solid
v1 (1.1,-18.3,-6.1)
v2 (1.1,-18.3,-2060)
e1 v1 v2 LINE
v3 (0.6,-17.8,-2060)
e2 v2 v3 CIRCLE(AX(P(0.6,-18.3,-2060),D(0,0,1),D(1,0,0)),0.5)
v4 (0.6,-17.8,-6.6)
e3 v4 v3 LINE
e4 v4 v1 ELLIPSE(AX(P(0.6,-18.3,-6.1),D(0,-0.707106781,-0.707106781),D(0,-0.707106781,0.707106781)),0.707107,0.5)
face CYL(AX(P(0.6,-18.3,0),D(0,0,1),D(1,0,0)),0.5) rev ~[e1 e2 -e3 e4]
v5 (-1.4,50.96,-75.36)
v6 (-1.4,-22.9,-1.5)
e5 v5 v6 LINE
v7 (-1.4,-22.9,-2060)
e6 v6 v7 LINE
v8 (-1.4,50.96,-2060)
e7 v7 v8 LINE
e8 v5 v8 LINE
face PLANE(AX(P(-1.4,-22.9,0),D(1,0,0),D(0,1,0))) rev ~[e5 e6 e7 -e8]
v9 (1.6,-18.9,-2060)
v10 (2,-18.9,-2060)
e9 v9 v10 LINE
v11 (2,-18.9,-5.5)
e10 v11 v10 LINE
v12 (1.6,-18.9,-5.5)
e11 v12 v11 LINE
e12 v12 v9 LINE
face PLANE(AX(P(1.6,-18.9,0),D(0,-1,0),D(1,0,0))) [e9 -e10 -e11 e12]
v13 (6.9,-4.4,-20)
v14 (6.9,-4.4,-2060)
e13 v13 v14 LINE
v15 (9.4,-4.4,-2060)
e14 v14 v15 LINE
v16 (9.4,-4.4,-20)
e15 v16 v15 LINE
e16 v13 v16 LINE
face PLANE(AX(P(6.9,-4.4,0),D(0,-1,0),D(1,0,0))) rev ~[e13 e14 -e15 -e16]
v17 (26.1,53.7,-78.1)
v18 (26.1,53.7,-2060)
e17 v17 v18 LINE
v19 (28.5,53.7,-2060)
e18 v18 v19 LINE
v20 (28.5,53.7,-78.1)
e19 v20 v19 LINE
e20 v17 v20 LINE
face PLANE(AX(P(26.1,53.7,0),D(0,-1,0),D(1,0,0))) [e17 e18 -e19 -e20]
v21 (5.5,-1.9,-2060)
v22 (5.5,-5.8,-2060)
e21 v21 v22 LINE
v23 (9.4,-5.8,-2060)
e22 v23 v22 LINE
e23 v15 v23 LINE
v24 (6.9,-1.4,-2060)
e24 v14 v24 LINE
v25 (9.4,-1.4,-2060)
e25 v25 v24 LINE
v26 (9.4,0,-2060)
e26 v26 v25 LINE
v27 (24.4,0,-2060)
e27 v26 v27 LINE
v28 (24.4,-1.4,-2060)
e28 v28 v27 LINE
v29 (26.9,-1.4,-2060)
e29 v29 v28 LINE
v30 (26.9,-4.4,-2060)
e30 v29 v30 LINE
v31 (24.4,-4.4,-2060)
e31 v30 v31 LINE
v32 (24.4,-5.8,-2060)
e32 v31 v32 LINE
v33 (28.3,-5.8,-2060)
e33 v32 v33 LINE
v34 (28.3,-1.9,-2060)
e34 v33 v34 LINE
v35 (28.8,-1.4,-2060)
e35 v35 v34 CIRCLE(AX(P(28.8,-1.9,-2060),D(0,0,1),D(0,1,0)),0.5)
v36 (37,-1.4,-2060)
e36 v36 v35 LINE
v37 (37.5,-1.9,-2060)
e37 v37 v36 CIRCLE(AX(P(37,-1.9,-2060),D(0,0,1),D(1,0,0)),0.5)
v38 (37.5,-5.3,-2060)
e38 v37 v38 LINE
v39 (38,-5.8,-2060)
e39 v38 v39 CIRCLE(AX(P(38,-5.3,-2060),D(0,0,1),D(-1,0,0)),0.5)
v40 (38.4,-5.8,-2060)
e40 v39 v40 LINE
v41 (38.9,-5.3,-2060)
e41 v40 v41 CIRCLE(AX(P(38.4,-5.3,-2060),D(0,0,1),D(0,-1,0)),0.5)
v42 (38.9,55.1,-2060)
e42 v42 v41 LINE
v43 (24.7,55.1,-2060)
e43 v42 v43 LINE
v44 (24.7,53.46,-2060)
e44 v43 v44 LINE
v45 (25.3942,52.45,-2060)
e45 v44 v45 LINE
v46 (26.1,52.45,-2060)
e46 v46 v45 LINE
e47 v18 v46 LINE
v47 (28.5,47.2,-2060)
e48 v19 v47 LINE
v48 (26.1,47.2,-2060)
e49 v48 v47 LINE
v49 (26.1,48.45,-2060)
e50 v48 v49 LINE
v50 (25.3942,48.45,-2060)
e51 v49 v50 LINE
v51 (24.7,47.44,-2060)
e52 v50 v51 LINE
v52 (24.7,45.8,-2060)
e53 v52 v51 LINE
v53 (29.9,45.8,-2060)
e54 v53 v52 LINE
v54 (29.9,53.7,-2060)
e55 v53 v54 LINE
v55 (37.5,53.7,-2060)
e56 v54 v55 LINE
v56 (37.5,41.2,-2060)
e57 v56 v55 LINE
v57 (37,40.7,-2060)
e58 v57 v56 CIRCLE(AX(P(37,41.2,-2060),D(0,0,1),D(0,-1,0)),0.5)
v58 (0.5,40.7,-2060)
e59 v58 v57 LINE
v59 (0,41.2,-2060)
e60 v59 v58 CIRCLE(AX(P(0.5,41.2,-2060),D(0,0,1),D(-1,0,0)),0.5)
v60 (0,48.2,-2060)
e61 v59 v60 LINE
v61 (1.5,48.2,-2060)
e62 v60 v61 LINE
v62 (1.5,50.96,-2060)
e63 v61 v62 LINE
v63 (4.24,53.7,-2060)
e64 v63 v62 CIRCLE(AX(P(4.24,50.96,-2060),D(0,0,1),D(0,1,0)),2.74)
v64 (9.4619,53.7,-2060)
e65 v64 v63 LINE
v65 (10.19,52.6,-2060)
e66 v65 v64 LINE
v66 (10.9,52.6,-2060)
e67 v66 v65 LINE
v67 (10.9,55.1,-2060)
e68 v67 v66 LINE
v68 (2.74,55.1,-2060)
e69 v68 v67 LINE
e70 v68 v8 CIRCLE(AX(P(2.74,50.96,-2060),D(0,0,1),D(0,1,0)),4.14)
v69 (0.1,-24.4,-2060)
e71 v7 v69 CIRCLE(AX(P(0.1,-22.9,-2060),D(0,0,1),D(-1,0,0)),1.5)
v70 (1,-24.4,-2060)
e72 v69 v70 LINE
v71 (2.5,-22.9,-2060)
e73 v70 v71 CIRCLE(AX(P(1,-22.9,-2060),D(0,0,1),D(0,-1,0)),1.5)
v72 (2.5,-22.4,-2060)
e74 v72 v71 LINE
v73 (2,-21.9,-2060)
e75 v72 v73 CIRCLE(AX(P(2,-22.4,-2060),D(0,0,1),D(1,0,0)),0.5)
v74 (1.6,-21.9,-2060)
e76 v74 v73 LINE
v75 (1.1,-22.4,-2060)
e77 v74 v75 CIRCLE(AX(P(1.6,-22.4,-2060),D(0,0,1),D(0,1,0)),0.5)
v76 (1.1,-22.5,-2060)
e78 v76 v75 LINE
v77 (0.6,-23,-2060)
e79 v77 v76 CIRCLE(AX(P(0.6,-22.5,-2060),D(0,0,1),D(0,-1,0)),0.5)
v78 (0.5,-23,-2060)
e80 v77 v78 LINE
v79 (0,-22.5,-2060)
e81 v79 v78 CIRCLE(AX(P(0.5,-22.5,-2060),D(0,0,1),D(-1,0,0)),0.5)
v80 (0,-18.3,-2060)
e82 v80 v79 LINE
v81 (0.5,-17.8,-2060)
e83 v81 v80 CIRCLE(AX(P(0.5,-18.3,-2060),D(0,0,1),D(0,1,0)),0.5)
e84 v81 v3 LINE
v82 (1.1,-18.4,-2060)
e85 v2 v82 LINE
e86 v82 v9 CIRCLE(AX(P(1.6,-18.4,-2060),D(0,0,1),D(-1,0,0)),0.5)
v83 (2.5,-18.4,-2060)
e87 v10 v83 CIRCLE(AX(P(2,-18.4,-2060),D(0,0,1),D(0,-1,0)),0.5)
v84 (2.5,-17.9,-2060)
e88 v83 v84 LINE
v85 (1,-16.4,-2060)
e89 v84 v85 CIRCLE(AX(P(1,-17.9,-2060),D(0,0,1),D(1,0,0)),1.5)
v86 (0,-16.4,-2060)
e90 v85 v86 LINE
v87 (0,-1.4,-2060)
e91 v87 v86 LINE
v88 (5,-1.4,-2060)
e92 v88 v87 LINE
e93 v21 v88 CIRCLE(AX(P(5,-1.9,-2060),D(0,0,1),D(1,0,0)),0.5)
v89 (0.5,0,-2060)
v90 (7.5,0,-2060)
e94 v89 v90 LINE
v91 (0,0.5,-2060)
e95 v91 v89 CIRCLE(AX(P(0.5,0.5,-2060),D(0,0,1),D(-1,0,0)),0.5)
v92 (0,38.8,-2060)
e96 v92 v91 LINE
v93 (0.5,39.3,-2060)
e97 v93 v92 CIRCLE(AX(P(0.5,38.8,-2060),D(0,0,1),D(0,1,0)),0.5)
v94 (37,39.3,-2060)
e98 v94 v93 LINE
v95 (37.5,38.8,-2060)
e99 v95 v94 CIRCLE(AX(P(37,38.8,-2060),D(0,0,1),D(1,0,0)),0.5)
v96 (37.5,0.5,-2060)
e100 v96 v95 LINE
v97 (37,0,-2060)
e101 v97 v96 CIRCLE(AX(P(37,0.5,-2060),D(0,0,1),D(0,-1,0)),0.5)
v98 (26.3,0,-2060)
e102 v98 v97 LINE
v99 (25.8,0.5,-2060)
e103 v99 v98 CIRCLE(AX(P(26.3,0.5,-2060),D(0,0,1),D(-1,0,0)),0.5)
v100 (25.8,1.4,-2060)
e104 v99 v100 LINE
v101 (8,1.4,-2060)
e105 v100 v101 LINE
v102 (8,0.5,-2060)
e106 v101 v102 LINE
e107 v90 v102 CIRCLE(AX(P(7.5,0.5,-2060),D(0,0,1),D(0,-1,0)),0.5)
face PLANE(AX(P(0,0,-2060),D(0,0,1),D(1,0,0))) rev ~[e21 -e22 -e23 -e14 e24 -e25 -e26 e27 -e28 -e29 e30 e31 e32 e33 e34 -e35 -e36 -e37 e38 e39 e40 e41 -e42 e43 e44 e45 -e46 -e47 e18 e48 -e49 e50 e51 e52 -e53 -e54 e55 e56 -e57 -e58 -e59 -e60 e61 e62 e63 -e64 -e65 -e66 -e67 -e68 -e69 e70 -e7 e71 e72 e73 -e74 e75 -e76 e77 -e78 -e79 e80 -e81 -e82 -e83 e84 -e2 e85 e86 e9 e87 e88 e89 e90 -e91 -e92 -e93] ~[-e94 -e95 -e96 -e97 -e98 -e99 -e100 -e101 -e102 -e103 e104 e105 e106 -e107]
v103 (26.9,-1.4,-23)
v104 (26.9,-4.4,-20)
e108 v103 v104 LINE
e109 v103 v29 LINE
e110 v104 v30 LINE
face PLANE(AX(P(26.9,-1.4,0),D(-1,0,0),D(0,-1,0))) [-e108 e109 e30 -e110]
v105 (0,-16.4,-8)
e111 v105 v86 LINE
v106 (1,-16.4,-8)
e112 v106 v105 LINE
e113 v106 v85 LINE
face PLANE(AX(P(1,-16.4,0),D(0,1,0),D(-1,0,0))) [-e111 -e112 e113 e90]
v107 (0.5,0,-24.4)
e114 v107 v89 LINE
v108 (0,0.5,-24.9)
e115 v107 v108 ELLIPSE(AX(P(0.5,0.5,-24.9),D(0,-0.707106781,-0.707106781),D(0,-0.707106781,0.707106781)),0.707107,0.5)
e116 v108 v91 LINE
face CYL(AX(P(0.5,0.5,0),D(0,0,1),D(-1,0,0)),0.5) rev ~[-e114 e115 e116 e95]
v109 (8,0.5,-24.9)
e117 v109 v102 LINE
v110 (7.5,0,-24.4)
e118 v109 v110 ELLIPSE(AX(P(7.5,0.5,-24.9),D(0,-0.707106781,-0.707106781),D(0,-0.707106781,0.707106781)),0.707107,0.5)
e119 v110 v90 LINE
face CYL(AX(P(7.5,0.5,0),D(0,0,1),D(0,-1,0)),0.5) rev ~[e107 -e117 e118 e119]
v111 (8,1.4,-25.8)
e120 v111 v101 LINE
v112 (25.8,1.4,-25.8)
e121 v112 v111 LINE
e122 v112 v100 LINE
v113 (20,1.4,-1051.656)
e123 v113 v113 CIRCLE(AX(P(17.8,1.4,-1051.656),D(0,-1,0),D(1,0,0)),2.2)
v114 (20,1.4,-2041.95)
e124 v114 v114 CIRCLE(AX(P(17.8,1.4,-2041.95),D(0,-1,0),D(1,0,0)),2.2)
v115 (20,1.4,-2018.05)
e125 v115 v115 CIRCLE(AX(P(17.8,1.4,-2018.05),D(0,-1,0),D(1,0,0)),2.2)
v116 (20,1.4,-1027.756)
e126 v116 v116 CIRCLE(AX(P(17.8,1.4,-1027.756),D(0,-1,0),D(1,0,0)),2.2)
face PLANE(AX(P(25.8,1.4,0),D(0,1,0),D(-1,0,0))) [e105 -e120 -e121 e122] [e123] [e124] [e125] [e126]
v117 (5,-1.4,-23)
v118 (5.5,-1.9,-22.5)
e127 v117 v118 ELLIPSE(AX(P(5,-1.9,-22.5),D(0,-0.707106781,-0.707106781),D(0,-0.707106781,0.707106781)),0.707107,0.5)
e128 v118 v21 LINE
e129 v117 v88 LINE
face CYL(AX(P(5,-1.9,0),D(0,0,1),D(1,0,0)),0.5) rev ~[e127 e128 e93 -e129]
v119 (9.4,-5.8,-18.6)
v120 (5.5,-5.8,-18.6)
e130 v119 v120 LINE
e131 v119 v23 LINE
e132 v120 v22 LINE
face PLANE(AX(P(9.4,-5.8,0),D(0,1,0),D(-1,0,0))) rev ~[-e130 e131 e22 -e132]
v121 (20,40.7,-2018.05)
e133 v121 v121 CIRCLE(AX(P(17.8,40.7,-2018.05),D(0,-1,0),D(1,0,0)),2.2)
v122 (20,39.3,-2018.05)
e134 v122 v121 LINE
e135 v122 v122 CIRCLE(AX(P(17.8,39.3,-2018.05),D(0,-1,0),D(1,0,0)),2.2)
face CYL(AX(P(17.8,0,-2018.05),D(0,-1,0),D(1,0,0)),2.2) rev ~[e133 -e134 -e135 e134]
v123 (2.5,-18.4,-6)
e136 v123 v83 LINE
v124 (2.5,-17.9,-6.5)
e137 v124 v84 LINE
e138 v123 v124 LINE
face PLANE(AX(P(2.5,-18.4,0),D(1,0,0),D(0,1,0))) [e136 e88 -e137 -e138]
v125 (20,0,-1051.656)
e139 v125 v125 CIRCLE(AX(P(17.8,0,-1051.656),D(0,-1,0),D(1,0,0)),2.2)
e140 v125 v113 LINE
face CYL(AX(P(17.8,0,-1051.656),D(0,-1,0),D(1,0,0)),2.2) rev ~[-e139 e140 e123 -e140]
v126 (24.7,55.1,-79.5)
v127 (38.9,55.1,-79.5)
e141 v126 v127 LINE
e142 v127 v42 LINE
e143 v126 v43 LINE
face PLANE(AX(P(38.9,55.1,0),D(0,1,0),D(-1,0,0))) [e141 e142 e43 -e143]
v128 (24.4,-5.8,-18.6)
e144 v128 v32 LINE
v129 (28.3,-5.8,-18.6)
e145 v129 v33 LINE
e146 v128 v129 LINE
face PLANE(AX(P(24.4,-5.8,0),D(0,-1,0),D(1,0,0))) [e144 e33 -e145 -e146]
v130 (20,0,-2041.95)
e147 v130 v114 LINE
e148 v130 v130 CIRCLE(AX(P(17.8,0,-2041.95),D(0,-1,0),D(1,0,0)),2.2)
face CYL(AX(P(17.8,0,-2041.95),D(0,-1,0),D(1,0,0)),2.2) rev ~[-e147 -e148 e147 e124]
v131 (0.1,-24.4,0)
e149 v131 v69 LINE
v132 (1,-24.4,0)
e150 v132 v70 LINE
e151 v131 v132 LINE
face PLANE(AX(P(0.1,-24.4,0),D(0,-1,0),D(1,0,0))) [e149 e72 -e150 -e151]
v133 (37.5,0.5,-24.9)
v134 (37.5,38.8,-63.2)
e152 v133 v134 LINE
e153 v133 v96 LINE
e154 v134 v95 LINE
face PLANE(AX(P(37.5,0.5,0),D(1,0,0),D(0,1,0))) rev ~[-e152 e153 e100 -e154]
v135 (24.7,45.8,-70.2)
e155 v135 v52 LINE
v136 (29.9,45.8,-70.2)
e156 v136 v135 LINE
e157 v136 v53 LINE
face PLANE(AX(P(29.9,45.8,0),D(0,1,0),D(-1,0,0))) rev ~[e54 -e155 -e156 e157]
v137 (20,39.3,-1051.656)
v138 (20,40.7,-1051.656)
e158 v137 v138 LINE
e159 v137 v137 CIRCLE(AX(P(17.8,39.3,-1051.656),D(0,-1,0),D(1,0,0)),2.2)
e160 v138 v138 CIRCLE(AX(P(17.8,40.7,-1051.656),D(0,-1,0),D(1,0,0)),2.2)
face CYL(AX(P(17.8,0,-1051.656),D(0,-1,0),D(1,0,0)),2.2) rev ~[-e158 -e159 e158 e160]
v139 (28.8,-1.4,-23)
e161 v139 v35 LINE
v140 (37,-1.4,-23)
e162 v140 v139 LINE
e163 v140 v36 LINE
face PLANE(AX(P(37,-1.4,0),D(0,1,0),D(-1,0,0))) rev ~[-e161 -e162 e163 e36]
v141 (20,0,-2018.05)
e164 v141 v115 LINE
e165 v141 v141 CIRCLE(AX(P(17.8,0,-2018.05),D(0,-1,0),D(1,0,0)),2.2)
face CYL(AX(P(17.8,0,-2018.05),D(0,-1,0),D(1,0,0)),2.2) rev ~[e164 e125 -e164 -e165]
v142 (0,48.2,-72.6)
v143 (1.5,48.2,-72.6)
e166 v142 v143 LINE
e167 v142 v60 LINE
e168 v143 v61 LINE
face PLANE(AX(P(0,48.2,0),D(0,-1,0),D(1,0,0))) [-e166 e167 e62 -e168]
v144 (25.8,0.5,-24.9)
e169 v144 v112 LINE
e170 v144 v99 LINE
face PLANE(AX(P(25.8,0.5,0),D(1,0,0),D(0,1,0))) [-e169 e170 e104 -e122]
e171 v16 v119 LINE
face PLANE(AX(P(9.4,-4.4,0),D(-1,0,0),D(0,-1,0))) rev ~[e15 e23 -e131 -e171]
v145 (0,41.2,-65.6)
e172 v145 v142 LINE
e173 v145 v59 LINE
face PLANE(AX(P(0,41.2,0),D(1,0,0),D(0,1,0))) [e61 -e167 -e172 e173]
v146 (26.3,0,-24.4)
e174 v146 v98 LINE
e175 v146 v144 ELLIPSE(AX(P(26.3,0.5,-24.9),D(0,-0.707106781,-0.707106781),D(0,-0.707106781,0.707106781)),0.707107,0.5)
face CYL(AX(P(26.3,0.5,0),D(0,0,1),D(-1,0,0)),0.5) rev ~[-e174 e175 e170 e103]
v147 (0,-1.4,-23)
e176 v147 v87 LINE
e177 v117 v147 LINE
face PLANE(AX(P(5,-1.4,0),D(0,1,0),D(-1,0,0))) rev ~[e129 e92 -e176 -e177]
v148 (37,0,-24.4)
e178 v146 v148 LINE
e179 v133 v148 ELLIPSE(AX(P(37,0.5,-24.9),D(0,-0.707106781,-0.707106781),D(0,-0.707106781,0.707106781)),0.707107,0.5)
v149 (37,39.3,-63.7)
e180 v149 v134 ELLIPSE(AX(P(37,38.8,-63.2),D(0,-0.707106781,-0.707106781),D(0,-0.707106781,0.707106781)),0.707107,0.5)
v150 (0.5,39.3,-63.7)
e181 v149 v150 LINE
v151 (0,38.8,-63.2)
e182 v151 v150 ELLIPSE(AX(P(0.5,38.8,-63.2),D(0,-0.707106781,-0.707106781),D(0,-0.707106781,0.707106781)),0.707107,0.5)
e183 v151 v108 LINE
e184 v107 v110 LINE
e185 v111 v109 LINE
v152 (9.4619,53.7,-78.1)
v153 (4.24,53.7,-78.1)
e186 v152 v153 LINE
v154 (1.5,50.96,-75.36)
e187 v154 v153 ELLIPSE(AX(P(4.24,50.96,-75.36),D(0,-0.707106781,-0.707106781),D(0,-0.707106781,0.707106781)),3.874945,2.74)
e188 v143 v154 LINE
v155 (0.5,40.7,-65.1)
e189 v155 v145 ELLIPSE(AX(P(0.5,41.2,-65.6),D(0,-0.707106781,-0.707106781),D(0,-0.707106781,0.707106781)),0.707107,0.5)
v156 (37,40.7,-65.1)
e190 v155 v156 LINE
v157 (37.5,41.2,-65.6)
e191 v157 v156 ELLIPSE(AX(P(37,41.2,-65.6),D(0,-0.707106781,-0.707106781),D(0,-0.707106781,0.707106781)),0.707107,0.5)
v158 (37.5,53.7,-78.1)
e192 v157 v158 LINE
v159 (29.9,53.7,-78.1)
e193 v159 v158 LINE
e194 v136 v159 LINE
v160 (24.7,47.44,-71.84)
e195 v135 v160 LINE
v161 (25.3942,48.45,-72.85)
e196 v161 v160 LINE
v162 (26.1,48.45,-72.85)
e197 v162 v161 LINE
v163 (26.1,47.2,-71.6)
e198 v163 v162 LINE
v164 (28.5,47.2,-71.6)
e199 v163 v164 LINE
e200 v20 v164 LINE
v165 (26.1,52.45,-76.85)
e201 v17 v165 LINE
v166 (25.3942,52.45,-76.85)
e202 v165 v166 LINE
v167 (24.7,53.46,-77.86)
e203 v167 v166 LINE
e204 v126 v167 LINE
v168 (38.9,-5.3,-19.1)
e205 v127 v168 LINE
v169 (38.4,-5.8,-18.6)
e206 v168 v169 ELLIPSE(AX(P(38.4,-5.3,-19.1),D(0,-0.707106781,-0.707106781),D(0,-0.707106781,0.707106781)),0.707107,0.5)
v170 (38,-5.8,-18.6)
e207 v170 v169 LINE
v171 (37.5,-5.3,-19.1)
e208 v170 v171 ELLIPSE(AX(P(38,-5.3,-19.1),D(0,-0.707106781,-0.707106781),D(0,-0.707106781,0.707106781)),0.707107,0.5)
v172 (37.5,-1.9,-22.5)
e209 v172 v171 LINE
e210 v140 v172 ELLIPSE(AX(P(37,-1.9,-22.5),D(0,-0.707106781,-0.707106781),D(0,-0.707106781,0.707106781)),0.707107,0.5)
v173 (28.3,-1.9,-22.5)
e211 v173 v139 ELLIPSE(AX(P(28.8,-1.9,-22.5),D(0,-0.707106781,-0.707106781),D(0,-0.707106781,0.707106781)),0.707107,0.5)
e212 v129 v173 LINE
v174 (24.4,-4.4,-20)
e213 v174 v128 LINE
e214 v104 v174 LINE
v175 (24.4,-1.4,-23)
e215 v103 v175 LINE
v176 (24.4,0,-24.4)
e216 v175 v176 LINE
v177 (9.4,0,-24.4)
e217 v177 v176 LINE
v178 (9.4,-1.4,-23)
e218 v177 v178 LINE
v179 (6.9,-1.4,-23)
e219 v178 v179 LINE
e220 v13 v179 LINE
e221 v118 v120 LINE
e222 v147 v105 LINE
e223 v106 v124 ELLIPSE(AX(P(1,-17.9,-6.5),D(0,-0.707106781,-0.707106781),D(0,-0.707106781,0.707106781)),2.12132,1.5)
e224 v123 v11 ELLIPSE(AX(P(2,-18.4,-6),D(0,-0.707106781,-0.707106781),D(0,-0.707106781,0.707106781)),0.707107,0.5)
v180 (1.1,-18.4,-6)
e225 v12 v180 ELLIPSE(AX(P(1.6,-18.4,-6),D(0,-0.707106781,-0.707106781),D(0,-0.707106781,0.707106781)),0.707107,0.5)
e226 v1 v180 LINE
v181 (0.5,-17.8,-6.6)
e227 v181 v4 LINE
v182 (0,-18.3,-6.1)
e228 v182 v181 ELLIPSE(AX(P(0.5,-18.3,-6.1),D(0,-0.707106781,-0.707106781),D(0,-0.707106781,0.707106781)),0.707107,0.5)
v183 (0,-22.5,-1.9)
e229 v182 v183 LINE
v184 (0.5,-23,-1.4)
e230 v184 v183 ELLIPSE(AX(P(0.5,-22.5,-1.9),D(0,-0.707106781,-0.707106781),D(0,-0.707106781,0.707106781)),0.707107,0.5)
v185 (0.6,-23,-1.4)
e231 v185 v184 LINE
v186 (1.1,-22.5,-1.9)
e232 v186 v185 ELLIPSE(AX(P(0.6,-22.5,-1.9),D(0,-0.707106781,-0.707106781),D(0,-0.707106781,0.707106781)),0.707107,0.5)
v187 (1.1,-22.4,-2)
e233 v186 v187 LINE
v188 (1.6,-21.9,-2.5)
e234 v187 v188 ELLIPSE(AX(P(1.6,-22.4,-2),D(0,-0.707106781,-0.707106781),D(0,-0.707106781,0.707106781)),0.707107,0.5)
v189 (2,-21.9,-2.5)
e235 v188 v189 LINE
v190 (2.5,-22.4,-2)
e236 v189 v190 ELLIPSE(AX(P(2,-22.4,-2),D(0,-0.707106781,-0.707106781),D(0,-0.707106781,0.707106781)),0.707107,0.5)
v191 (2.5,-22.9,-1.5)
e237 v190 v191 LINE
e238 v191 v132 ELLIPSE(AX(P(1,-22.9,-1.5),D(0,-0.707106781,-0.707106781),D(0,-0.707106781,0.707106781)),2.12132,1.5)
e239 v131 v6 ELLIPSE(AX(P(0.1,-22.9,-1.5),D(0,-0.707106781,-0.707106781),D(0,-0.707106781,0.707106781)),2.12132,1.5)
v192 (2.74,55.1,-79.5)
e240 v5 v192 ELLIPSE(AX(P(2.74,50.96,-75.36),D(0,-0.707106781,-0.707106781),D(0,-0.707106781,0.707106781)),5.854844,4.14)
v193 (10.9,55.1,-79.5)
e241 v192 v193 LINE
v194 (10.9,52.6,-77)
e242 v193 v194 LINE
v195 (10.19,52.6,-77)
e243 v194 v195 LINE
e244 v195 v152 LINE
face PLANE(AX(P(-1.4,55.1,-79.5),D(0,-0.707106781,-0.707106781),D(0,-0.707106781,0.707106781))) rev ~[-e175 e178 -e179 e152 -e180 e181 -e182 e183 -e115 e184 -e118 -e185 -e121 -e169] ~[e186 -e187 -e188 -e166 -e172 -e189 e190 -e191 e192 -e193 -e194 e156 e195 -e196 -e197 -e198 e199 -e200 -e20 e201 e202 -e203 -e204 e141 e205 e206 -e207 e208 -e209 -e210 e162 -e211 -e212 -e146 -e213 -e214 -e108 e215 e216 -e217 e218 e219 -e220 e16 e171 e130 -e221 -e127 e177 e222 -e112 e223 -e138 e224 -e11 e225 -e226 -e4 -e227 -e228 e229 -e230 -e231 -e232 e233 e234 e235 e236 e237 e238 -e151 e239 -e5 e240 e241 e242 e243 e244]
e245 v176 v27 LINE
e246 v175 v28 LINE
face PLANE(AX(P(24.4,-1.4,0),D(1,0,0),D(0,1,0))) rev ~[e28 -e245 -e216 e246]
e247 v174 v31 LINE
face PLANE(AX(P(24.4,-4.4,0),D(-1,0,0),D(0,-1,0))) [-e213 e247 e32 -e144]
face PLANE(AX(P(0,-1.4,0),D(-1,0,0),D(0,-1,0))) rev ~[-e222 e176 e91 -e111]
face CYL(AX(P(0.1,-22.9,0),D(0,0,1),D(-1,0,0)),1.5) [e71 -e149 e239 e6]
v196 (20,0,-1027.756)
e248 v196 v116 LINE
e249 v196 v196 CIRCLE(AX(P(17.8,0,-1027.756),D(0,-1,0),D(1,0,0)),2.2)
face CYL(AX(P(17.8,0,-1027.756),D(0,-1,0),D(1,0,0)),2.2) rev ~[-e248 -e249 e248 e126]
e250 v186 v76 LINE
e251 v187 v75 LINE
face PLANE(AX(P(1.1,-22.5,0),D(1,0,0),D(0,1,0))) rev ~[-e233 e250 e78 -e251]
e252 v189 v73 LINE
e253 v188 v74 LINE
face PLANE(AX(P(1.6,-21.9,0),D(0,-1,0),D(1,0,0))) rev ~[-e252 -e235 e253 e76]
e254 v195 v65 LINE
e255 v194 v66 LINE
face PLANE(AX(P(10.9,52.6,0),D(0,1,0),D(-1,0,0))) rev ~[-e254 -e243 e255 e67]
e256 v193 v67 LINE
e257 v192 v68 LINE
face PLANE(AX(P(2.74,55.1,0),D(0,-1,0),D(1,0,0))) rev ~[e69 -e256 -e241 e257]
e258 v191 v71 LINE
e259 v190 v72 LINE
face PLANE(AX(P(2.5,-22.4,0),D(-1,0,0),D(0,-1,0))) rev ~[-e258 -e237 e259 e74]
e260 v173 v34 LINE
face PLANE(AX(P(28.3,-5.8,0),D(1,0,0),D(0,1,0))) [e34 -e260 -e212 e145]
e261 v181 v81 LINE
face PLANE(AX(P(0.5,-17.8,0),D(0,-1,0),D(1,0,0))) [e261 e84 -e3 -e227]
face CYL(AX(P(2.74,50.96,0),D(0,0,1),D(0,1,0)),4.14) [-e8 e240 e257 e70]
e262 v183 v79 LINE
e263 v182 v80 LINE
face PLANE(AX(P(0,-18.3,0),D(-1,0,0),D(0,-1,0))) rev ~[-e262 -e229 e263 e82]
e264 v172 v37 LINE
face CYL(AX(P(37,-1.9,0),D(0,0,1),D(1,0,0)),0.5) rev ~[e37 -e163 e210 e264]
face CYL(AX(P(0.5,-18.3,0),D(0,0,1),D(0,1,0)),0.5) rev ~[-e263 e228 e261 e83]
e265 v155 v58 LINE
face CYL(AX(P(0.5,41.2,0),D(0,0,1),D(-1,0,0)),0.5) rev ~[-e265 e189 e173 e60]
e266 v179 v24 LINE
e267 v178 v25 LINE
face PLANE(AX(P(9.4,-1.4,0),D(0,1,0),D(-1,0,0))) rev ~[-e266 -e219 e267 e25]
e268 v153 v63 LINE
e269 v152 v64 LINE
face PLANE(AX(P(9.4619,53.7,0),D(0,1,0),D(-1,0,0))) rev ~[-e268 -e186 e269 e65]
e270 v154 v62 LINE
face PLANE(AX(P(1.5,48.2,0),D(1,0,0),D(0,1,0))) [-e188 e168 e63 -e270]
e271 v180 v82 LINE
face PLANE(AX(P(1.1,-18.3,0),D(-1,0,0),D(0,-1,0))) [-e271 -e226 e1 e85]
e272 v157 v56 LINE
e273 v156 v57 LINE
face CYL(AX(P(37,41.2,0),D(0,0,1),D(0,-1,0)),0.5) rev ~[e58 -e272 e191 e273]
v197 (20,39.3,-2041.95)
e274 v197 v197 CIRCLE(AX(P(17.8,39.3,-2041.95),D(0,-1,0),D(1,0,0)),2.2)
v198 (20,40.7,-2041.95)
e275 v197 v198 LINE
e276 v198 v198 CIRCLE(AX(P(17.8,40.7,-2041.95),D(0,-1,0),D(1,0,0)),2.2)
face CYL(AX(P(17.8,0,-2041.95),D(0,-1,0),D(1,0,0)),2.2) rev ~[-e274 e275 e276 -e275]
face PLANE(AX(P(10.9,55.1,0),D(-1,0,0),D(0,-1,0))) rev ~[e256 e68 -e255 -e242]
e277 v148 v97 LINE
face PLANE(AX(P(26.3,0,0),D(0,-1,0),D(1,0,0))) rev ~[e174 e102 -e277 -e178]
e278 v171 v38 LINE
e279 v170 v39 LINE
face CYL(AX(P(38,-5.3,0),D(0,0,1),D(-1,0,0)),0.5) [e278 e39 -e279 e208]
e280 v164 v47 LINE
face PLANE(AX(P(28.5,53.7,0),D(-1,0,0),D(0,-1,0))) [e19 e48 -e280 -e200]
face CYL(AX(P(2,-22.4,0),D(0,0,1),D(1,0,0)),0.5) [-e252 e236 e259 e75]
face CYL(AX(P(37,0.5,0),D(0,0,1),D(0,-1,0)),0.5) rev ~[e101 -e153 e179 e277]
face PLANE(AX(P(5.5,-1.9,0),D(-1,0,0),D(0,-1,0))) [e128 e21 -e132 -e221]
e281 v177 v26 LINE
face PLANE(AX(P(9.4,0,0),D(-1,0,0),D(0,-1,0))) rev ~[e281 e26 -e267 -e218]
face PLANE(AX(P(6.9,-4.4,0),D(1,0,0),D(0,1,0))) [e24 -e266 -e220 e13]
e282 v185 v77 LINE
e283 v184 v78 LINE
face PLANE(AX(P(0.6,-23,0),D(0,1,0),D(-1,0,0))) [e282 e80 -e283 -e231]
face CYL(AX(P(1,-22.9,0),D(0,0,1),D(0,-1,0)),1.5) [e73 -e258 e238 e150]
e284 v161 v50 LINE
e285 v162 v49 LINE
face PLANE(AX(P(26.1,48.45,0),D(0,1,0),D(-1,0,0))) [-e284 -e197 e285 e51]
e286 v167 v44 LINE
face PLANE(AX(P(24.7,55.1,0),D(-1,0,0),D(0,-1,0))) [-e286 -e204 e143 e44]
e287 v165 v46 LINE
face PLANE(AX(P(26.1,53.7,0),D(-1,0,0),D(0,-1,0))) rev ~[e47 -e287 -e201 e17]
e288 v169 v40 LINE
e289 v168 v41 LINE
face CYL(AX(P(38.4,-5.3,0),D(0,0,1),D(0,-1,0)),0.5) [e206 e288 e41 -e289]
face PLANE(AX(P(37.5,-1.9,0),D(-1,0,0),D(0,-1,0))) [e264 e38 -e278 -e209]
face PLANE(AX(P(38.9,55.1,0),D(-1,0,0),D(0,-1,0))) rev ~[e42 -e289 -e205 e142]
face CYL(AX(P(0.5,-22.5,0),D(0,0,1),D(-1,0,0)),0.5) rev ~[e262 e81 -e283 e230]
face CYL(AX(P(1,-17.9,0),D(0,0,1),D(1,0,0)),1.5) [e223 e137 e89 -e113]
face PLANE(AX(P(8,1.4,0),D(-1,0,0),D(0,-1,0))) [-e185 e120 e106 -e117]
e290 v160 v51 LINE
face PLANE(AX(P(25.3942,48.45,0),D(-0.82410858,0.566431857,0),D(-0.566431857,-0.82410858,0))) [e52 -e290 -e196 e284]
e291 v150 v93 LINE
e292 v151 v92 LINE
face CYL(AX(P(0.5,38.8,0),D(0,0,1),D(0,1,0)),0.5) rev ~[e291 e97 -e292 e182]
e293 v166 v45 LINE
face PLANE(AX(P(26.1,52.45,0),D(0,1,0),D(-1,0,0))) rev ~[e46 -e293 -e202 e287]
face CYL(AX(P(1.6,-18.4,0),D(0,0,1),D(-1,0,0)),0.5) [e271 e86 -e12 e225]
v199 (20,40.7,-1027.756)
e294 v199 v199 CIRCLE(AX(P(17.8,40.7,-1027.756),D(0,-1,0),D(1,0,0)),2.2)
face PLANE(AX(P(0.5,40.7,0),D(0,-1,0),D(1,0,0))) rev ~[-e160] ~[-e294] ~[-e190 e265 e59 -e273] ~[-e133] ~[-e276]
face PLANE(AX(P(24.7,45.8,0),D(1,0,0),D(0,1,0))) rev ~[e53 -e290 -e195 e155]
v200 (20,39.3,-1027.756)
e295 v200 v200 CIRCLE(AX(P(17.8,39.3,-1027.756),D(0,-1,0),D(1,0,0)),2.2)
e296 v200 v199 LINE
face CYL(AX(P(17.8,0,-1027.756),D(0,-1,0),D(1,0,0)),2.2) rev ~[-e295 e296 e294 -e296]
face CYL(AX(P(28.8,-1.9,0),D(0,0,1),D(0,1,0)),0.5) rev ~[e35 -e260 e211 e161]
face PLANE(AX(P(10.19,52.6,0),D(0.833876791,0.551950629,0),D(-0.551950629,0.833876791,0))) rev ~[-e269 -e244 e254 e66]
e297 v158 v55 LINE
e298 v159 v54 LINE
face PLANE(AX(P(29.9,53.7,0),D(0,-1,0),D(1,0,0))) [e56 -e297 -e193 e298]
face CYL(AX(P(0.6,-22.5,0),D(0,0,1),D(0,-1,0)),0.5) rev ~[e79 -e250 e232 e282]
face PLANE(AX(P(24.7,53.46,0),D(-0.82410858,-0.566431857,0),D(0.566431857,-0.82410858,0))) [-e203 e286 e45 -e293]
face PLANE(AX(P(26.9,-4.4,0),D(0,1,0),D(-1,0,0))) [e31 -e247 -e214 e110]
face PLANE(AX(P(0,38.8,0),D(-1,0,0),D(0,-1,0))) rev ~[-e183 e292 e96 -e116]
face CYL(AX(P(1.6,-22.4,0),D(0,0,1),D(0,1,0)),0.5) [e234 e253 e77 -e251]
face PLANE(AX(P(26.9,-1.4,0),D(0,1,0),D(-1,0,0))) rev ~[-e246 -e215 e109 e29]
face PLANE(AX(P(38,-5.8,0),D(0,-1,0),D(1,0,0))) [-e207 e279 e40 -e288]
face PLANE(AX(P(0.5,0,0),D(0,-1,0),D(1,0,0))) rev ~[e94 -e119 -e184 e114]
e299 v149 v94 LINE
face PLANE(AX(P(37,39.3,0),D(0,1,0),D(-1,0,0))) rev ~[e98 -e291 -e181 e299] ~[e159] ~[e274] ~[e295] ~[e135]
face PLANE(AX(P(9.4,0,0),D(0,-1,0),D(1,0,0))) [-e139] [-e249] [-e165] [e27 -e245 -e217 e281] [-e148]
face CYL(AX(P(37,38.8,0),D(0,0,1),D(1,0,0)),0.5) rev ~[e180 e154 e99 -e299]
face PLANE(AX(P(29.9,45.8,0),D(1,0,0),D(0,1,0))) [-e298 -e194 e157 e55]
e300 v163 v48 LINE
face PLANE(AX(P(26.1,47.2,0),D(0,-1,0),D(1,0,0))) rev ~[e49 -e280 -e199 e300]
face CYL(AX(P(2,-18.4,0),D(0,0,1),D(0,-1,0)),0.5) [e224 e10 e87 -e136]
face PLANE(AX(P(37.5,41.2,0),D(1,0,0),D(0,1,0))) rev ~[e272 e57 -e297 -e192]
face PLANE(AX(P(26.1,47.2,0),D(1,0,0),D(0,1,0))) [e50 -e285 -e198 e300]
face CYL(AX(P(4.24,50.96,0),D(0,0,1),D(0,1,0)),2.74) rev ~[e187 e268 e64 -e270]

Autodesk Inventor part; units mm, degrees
ref_plane "YZ Plane" through (0, 0, 0) normal (1, 0, 0) x (0, 1, 0)
ref_plane "XZ Plane" through (0, 0, 0) normal (0, 1, 0) x (-1, 0, 0)
sketch "Boceto1" plane through (0, 0, 0) normal (0, 0, 1) x (1, 0, 0)
  line L0 (37.5, 0.5) -> (37.5, 38.8)
  line L1 (37, 39.3) -> (0.5, 39.3)
  line L2 (0, 38.8) -> (0, 0.5)
  line L3 (0.5, 40.7) -> (37, 40.7)
  line L4 (38.9, 55.1) -> (38.9, -5.3)
  line L5 (-1.4, -22.9) -> (-1.4, 50.96)
  line L6 (37.5, 41.2) -> (37.5, 53.7)
  line L7 (38.9, 55.1) -> (24.7, 55.1)
  line L8 (24.7, 55.1) -> (24.7, 53.46)
  line L9 (28.5, 53.7) -> (28.5, 47.2)
  line L10 (29.9, 45.8) -> (29.9, 53.7)
  line L11 (29.9, 45.8) -> (24.7, 45.8)
  line L12 (24.7, 45.8) -> (24.7, 47.44)
  line L13 (26.1, 47.2) -> (28.5, 47.2)
  line L14 (26.1, 48.45) -> (25.3942, 48.45)
  line L15 (25.3942, 48.45) -> (24.7, 47.44)
  line L16 (26.1, 52.45) -> (25.3942, 52.45)
  line L17 (0, 41.2) -> (0, 48.2)
  line L18 (0, 48.2) -> (1.5, 48.2)
  line L19 (1.5, 48.2) -> (1.5, 50.96)
  line L20 (2.74, 55.1) -> (10.9, 55.1)
  line L21 (9.4619, 53.7) -> (4.24, 53.7)
  line L22 (10.9, 55.1) -> (10.9, 52.6)
  line L23 (10.9, 52.6) -> (10.19, 52.6)
  line L24 (10.19, 52.6) -> (9.4619, 53.7)
  line L25 (0, -24.4) -> (0.1, -24.4)
  line L26 (37.5, -1.9) -> (37.5, -5.3)
  line L27 (38, -5.8) -> (38.4, -5.8)
  line L28 (26.9, -1.4) -> (26.9, -4.4)
  line L29 (28.3, -5.8) -> (28.3, -1.9)
  line L30 (5.5, -1.9) -> (5.5, -5.8)
  line L31 (6.9, -4.4) -> (6.9, -1.4)
  line L32 (6.9, -4.4) -> (9.4, -4.4)
  line L33 (9.4, -4.4) -> (9.4, -5.8)
  line L34 (9.4, -5.8) -> (5.5, -5.8)
  line L35 (26.9, -4.4) -> (24.4, -4.4)
  line L36 (24.4, -4.4) -> (24.4, -5.8)
  line L37 (24.4, -5.8) -> (28.3, -5.8)
  line L38 (25.8, 0.5) -> (25.8, 1.4)
  line L39 (25.8, 1.4) -> (8, 1.4)
  line L40 (0.5, 0) -> (7.5, 0)
  line L41 (26.3, 0) -> (37, 0)
  line L42 (24.4, -1.4) -> (24.4, 0)
  line L43 (9.4, 0) -> (9.4, -1.4)
  line L44 (26.1, 53.7) -> (28.5, 53.7)
  line L45 (29.9, 53.7) -> (37.5, 53.7)
  line L46 (37, -1.4) -> (28.8, -1.4)
  line L47 (9.4, -1.4) -> (6.9, -1.4)
  line L48 (5, -1.4) -> (0, -1.4)
  arc A0 (4.24, 53.7) -> (1.5, 50.96) centre (4.24, 50.96) ccw
  arc A1 (2.74, 55.1) -> (-1.4, 50.96) centre (2.74, 50.96) ccw
  line L49 (26.9, -1.4) -> (24.4, -1.4)
  line L50 (26.9, -1.4) -> (24.4, -1.4)
  line L51 (8, 1.4) -> (8, 0.5)
  line L52 (9.4, 0) -> (24.4, 0)
  line L53 (24.7, 53.46) -> (25.3942, 52.45)
  line L54 (26.1, 53.7) -> (26.1, 52.45)
  line L55 (26.1, 47.2) -> (26.1, 48.45)
  line L56 (0, -24.4) -> (1, -24.4)
  line L57 (0.6, -23) -> (0.5, -23)
  line L58 (0.5, -17.8) -> (0.6, -17.8)
  line L59 (1, -16.4) -> (0, -16.4)
  line L60 (1.1, -18.3) -> (1.1, -18.4)
  line L61 (1.6, -18.9) -> (2, -18.9)
  line L62 (2.5, -18.4) -> (2.5, -17.9)
  line L63 (1.1, -22.5) -> (1.1, -22.4)
  line L64 (1.6, -21.9) -> (2, -21.9)
  line L65 (2.5, -22.4) -> (2.5, -22.9)
  line L66 (0, -1.4) -> (0, -16.4)
  line L67 (0, -18.3) -> (0, -22.5)
  arc A2 (2.5, -17.9) -> (1, -16.4) centre (1, -17.9) ccw
  arc A3 (1, -24.4) -> (2.5, -22.9) centre (1, -22.9) ccw
  arc A4 (-1.4, -22.9) -> (0.1, -24.4) centre (0.1, -22.9) ccw
  arc A5 (1.1, -18.4) -> (1.6, -18.9) centre (1.6, -18.4) ccw
  arc A6 (1.1, -18.3) -> (0.6, -17.8) centre (0.6, -18.3) ccw
  arc A7 (2, -18.9) -> (2.5, -18.4) centre (2, -18.4) ccw
  arc A8 (2.5, -22.4) -> (2, -21.9) centre (2, -22.4) ccw
  arc A9 (1.6, -21.9) -> (1.1, -22.4) centre (1.6, -22.4) ccw
  arc A10 (0.6, -23) -> (1.1, -22.5) centre (0.6, -22.5) ccw
  arc A11 (5.5, -1.9) -> (5, -1.4) centre (5, -1.9) ccw
  arc A12 (7.5, 0) -> (8, 0.5) centre (7.5, 0.5) ccw
  arc A13 (0, 0.5) -> (0.5, 0) centre (0.5, 0.5) ccw
  arc A14 (28.8, -1.4) -> (28.3, -1.9) centre (28.8, -1.9) ccw
  arc A15 (25.8, 0.5) -> (26.3, 0) centre (26.3, 0.5) ccw
  arc A16 (37, 0) -> (37.5, 0.5) centre (37, 0.5) ccw
  arc A17 (37.5, -1.9) -> (37, -1.4) centre (37, -1.9) ccw
  arc A18 (37.5, -5.3) -> (38, -5.8) centre (38, -5.3) ccw
  arc A19 (38.4, -5.8) -> (38.9, -5.3) centre (38.4, -5.3) ccw
  arc A20 (0.5, 39.3) -> (0, 38.8) centre (0.5, 38.8) ccw
  arc A21 (37.5, 38.8) -> (37, 39.3) centre (37, 38.8) ccw
  arc A22 (37, 40.7) -> (37.5, 41.2) centre (37, 41.2) ccw
  arc A23 (0, 41.2) -> (0.5, 40.7) centre (0.5, 41.2) ccw
  arc A24 (0, -22.5) -> (0.5, -23) centre (0.5, -22.5) ccw
  arc A25 (0.5, -17.8) -> (0, -18.3) centre (0.5, -18.3) ccw
  point P0 (0, 0)
  point P1 (9.4, -5.1)
  point P2 (27.3, 45.8)
  point P3 (28.5, 50.45)
  point P4 (0, -23)
  point P5 (0, -17.8)
  point P6 (1.1, -21.9)
  point P7 (0, -20.4)
  dimension "d10" = 60.9
  dimension "d11" = 23
  dimension "d13" = 39.3
  dimension "d14" = 1.4
  dimension "d15" = 1.4
  dimension "d17" = 1.4
  dimension "d18" = 1.4
  dimension "d20" = 1.4
  dimension "d22" = 1.4
  dimension "d23" = 1.4
  dimension "d26" = 1.4
  dimension "d27" = 1.4
  dimension "d28" = 1.4
  dimension "d31" = 1.4
  dimension "d34" = 40.3
  dimension "d35" = 37.9
  dimension "d36" = 39.3
  dimension "d37" = 37.5
  dimension "d38" = 37.5
  dimension "d40" = 14.2
  dimension "d41" = 13.8
  dimension "d42" = 2.5
  dimension "d43" = 0.71
  dimension "d45" = 2.9
  dimension "d46" = 14.4
  dimension "d47" = 33.5
  dimension "d48" = 7.5
  dimension "d51" = 2.74
  dimension "d58" = 4.14
  dimension "d59" = 6.9
  dimension "d60" = 1.4
  dimension "d61" = 20
  dimension "d62" = 6.9
  dimension "d64" = 1.4
  dimension "d65" = 3
  dimension "d66" = 3
  dimension "d68" = 2.5
  dimension "d69" = 2.5
  dimension "d70" = 15
  dimension "d71" = 2.5
  dimension "d73" = 1.4
  dimension "d74" = 1.4
  dimension "d75" = 1.4
  dimension "d76" = 1.4
  dimension "d77" = 9.3
  dimension "d78" = 6.5
  dimension "d82" = 1.4
  dimension "d83" = 1.4
  dimension "d84" = 1.4
  dimension "d85" = 1.4
  dimension "d86" = 1.4
  dimension "d88" = 2.4
  dimension "d95" = 6.02
  dimension "d99" = 111
  dimension "d100" = 2.4
  dimension "d108" = 4
  dimension "d109" = 0.7058
  dimension "d110" = 0.7058
  dimension "d112" = 5.2
  dimension "d115" = 2.6
  dimension "d116" = 2.6
  dimension "d117" = 1.5
  dimension "d118" = 1.5
  dimension "d119" = 3
extrude "Extrusión1" add sketch "Boceto1" against normal blind 2060
sketch "Boceto2" plane through (-1.4, -22.9, 0) normal (-1, 0, 0) x (0, 0, 1)
  line L0 (0, 73.86) -> (0, 78) projected
  line L1 (0, -1.5) -> (0, 78)
  line L2 (0, 78) -> (-79.5, 78)
  line L3 (-79.5, 78) -> (0, -1.5)
  line L4 (0, -1.5) -> (-2060, -1.5) projected
  point P0 (0, 22.9)
  dimension "d142" = 45
extrude "Extrusión2" cut sketch "Boceto2" against normal up to surface (40.3 mm away)
ref_plane "Plano de trabajo1" through (18.75, -5.3, -2060) normal (1, 0, 0) x (0, 0, -1)
sketch "Boceto3" plane through (9.4, 0, -2060) normal (0, -1, 0) x (1, 0, 0)
  circle A0 centre (8.4, 18.05) radius 2.2
  line L0 (15, 0) -> (0, 0) projected
  line L1 (-3.9, 2041.4) -> (-3.9, 0) projected
  circle A1 centre (8.4, 41.95) radius 2.2
  line L2 (8.4, 44.61) -> (8.4, 15.3362) construction
  point P0 (-9.4, 2060)
  dimension "d147" = 4.4
  dimension "d148" = 18.05
  dimension "d149" = 12.3
  dimension "d151" = 4.4
  dimension "d152" = 23.9
extrude "Extrusión3" cut sketch "Boceto3" against normal up to surface (40.7 mm away)
pattern_linear "Patrón rectangular1" count 2 spacing 990.294 along (0, 0, 1) of "Extrusión3"
properties part number "SP40-02 HOJA PUERTA BATIENTE INT - EXT" material "Aluminio"
